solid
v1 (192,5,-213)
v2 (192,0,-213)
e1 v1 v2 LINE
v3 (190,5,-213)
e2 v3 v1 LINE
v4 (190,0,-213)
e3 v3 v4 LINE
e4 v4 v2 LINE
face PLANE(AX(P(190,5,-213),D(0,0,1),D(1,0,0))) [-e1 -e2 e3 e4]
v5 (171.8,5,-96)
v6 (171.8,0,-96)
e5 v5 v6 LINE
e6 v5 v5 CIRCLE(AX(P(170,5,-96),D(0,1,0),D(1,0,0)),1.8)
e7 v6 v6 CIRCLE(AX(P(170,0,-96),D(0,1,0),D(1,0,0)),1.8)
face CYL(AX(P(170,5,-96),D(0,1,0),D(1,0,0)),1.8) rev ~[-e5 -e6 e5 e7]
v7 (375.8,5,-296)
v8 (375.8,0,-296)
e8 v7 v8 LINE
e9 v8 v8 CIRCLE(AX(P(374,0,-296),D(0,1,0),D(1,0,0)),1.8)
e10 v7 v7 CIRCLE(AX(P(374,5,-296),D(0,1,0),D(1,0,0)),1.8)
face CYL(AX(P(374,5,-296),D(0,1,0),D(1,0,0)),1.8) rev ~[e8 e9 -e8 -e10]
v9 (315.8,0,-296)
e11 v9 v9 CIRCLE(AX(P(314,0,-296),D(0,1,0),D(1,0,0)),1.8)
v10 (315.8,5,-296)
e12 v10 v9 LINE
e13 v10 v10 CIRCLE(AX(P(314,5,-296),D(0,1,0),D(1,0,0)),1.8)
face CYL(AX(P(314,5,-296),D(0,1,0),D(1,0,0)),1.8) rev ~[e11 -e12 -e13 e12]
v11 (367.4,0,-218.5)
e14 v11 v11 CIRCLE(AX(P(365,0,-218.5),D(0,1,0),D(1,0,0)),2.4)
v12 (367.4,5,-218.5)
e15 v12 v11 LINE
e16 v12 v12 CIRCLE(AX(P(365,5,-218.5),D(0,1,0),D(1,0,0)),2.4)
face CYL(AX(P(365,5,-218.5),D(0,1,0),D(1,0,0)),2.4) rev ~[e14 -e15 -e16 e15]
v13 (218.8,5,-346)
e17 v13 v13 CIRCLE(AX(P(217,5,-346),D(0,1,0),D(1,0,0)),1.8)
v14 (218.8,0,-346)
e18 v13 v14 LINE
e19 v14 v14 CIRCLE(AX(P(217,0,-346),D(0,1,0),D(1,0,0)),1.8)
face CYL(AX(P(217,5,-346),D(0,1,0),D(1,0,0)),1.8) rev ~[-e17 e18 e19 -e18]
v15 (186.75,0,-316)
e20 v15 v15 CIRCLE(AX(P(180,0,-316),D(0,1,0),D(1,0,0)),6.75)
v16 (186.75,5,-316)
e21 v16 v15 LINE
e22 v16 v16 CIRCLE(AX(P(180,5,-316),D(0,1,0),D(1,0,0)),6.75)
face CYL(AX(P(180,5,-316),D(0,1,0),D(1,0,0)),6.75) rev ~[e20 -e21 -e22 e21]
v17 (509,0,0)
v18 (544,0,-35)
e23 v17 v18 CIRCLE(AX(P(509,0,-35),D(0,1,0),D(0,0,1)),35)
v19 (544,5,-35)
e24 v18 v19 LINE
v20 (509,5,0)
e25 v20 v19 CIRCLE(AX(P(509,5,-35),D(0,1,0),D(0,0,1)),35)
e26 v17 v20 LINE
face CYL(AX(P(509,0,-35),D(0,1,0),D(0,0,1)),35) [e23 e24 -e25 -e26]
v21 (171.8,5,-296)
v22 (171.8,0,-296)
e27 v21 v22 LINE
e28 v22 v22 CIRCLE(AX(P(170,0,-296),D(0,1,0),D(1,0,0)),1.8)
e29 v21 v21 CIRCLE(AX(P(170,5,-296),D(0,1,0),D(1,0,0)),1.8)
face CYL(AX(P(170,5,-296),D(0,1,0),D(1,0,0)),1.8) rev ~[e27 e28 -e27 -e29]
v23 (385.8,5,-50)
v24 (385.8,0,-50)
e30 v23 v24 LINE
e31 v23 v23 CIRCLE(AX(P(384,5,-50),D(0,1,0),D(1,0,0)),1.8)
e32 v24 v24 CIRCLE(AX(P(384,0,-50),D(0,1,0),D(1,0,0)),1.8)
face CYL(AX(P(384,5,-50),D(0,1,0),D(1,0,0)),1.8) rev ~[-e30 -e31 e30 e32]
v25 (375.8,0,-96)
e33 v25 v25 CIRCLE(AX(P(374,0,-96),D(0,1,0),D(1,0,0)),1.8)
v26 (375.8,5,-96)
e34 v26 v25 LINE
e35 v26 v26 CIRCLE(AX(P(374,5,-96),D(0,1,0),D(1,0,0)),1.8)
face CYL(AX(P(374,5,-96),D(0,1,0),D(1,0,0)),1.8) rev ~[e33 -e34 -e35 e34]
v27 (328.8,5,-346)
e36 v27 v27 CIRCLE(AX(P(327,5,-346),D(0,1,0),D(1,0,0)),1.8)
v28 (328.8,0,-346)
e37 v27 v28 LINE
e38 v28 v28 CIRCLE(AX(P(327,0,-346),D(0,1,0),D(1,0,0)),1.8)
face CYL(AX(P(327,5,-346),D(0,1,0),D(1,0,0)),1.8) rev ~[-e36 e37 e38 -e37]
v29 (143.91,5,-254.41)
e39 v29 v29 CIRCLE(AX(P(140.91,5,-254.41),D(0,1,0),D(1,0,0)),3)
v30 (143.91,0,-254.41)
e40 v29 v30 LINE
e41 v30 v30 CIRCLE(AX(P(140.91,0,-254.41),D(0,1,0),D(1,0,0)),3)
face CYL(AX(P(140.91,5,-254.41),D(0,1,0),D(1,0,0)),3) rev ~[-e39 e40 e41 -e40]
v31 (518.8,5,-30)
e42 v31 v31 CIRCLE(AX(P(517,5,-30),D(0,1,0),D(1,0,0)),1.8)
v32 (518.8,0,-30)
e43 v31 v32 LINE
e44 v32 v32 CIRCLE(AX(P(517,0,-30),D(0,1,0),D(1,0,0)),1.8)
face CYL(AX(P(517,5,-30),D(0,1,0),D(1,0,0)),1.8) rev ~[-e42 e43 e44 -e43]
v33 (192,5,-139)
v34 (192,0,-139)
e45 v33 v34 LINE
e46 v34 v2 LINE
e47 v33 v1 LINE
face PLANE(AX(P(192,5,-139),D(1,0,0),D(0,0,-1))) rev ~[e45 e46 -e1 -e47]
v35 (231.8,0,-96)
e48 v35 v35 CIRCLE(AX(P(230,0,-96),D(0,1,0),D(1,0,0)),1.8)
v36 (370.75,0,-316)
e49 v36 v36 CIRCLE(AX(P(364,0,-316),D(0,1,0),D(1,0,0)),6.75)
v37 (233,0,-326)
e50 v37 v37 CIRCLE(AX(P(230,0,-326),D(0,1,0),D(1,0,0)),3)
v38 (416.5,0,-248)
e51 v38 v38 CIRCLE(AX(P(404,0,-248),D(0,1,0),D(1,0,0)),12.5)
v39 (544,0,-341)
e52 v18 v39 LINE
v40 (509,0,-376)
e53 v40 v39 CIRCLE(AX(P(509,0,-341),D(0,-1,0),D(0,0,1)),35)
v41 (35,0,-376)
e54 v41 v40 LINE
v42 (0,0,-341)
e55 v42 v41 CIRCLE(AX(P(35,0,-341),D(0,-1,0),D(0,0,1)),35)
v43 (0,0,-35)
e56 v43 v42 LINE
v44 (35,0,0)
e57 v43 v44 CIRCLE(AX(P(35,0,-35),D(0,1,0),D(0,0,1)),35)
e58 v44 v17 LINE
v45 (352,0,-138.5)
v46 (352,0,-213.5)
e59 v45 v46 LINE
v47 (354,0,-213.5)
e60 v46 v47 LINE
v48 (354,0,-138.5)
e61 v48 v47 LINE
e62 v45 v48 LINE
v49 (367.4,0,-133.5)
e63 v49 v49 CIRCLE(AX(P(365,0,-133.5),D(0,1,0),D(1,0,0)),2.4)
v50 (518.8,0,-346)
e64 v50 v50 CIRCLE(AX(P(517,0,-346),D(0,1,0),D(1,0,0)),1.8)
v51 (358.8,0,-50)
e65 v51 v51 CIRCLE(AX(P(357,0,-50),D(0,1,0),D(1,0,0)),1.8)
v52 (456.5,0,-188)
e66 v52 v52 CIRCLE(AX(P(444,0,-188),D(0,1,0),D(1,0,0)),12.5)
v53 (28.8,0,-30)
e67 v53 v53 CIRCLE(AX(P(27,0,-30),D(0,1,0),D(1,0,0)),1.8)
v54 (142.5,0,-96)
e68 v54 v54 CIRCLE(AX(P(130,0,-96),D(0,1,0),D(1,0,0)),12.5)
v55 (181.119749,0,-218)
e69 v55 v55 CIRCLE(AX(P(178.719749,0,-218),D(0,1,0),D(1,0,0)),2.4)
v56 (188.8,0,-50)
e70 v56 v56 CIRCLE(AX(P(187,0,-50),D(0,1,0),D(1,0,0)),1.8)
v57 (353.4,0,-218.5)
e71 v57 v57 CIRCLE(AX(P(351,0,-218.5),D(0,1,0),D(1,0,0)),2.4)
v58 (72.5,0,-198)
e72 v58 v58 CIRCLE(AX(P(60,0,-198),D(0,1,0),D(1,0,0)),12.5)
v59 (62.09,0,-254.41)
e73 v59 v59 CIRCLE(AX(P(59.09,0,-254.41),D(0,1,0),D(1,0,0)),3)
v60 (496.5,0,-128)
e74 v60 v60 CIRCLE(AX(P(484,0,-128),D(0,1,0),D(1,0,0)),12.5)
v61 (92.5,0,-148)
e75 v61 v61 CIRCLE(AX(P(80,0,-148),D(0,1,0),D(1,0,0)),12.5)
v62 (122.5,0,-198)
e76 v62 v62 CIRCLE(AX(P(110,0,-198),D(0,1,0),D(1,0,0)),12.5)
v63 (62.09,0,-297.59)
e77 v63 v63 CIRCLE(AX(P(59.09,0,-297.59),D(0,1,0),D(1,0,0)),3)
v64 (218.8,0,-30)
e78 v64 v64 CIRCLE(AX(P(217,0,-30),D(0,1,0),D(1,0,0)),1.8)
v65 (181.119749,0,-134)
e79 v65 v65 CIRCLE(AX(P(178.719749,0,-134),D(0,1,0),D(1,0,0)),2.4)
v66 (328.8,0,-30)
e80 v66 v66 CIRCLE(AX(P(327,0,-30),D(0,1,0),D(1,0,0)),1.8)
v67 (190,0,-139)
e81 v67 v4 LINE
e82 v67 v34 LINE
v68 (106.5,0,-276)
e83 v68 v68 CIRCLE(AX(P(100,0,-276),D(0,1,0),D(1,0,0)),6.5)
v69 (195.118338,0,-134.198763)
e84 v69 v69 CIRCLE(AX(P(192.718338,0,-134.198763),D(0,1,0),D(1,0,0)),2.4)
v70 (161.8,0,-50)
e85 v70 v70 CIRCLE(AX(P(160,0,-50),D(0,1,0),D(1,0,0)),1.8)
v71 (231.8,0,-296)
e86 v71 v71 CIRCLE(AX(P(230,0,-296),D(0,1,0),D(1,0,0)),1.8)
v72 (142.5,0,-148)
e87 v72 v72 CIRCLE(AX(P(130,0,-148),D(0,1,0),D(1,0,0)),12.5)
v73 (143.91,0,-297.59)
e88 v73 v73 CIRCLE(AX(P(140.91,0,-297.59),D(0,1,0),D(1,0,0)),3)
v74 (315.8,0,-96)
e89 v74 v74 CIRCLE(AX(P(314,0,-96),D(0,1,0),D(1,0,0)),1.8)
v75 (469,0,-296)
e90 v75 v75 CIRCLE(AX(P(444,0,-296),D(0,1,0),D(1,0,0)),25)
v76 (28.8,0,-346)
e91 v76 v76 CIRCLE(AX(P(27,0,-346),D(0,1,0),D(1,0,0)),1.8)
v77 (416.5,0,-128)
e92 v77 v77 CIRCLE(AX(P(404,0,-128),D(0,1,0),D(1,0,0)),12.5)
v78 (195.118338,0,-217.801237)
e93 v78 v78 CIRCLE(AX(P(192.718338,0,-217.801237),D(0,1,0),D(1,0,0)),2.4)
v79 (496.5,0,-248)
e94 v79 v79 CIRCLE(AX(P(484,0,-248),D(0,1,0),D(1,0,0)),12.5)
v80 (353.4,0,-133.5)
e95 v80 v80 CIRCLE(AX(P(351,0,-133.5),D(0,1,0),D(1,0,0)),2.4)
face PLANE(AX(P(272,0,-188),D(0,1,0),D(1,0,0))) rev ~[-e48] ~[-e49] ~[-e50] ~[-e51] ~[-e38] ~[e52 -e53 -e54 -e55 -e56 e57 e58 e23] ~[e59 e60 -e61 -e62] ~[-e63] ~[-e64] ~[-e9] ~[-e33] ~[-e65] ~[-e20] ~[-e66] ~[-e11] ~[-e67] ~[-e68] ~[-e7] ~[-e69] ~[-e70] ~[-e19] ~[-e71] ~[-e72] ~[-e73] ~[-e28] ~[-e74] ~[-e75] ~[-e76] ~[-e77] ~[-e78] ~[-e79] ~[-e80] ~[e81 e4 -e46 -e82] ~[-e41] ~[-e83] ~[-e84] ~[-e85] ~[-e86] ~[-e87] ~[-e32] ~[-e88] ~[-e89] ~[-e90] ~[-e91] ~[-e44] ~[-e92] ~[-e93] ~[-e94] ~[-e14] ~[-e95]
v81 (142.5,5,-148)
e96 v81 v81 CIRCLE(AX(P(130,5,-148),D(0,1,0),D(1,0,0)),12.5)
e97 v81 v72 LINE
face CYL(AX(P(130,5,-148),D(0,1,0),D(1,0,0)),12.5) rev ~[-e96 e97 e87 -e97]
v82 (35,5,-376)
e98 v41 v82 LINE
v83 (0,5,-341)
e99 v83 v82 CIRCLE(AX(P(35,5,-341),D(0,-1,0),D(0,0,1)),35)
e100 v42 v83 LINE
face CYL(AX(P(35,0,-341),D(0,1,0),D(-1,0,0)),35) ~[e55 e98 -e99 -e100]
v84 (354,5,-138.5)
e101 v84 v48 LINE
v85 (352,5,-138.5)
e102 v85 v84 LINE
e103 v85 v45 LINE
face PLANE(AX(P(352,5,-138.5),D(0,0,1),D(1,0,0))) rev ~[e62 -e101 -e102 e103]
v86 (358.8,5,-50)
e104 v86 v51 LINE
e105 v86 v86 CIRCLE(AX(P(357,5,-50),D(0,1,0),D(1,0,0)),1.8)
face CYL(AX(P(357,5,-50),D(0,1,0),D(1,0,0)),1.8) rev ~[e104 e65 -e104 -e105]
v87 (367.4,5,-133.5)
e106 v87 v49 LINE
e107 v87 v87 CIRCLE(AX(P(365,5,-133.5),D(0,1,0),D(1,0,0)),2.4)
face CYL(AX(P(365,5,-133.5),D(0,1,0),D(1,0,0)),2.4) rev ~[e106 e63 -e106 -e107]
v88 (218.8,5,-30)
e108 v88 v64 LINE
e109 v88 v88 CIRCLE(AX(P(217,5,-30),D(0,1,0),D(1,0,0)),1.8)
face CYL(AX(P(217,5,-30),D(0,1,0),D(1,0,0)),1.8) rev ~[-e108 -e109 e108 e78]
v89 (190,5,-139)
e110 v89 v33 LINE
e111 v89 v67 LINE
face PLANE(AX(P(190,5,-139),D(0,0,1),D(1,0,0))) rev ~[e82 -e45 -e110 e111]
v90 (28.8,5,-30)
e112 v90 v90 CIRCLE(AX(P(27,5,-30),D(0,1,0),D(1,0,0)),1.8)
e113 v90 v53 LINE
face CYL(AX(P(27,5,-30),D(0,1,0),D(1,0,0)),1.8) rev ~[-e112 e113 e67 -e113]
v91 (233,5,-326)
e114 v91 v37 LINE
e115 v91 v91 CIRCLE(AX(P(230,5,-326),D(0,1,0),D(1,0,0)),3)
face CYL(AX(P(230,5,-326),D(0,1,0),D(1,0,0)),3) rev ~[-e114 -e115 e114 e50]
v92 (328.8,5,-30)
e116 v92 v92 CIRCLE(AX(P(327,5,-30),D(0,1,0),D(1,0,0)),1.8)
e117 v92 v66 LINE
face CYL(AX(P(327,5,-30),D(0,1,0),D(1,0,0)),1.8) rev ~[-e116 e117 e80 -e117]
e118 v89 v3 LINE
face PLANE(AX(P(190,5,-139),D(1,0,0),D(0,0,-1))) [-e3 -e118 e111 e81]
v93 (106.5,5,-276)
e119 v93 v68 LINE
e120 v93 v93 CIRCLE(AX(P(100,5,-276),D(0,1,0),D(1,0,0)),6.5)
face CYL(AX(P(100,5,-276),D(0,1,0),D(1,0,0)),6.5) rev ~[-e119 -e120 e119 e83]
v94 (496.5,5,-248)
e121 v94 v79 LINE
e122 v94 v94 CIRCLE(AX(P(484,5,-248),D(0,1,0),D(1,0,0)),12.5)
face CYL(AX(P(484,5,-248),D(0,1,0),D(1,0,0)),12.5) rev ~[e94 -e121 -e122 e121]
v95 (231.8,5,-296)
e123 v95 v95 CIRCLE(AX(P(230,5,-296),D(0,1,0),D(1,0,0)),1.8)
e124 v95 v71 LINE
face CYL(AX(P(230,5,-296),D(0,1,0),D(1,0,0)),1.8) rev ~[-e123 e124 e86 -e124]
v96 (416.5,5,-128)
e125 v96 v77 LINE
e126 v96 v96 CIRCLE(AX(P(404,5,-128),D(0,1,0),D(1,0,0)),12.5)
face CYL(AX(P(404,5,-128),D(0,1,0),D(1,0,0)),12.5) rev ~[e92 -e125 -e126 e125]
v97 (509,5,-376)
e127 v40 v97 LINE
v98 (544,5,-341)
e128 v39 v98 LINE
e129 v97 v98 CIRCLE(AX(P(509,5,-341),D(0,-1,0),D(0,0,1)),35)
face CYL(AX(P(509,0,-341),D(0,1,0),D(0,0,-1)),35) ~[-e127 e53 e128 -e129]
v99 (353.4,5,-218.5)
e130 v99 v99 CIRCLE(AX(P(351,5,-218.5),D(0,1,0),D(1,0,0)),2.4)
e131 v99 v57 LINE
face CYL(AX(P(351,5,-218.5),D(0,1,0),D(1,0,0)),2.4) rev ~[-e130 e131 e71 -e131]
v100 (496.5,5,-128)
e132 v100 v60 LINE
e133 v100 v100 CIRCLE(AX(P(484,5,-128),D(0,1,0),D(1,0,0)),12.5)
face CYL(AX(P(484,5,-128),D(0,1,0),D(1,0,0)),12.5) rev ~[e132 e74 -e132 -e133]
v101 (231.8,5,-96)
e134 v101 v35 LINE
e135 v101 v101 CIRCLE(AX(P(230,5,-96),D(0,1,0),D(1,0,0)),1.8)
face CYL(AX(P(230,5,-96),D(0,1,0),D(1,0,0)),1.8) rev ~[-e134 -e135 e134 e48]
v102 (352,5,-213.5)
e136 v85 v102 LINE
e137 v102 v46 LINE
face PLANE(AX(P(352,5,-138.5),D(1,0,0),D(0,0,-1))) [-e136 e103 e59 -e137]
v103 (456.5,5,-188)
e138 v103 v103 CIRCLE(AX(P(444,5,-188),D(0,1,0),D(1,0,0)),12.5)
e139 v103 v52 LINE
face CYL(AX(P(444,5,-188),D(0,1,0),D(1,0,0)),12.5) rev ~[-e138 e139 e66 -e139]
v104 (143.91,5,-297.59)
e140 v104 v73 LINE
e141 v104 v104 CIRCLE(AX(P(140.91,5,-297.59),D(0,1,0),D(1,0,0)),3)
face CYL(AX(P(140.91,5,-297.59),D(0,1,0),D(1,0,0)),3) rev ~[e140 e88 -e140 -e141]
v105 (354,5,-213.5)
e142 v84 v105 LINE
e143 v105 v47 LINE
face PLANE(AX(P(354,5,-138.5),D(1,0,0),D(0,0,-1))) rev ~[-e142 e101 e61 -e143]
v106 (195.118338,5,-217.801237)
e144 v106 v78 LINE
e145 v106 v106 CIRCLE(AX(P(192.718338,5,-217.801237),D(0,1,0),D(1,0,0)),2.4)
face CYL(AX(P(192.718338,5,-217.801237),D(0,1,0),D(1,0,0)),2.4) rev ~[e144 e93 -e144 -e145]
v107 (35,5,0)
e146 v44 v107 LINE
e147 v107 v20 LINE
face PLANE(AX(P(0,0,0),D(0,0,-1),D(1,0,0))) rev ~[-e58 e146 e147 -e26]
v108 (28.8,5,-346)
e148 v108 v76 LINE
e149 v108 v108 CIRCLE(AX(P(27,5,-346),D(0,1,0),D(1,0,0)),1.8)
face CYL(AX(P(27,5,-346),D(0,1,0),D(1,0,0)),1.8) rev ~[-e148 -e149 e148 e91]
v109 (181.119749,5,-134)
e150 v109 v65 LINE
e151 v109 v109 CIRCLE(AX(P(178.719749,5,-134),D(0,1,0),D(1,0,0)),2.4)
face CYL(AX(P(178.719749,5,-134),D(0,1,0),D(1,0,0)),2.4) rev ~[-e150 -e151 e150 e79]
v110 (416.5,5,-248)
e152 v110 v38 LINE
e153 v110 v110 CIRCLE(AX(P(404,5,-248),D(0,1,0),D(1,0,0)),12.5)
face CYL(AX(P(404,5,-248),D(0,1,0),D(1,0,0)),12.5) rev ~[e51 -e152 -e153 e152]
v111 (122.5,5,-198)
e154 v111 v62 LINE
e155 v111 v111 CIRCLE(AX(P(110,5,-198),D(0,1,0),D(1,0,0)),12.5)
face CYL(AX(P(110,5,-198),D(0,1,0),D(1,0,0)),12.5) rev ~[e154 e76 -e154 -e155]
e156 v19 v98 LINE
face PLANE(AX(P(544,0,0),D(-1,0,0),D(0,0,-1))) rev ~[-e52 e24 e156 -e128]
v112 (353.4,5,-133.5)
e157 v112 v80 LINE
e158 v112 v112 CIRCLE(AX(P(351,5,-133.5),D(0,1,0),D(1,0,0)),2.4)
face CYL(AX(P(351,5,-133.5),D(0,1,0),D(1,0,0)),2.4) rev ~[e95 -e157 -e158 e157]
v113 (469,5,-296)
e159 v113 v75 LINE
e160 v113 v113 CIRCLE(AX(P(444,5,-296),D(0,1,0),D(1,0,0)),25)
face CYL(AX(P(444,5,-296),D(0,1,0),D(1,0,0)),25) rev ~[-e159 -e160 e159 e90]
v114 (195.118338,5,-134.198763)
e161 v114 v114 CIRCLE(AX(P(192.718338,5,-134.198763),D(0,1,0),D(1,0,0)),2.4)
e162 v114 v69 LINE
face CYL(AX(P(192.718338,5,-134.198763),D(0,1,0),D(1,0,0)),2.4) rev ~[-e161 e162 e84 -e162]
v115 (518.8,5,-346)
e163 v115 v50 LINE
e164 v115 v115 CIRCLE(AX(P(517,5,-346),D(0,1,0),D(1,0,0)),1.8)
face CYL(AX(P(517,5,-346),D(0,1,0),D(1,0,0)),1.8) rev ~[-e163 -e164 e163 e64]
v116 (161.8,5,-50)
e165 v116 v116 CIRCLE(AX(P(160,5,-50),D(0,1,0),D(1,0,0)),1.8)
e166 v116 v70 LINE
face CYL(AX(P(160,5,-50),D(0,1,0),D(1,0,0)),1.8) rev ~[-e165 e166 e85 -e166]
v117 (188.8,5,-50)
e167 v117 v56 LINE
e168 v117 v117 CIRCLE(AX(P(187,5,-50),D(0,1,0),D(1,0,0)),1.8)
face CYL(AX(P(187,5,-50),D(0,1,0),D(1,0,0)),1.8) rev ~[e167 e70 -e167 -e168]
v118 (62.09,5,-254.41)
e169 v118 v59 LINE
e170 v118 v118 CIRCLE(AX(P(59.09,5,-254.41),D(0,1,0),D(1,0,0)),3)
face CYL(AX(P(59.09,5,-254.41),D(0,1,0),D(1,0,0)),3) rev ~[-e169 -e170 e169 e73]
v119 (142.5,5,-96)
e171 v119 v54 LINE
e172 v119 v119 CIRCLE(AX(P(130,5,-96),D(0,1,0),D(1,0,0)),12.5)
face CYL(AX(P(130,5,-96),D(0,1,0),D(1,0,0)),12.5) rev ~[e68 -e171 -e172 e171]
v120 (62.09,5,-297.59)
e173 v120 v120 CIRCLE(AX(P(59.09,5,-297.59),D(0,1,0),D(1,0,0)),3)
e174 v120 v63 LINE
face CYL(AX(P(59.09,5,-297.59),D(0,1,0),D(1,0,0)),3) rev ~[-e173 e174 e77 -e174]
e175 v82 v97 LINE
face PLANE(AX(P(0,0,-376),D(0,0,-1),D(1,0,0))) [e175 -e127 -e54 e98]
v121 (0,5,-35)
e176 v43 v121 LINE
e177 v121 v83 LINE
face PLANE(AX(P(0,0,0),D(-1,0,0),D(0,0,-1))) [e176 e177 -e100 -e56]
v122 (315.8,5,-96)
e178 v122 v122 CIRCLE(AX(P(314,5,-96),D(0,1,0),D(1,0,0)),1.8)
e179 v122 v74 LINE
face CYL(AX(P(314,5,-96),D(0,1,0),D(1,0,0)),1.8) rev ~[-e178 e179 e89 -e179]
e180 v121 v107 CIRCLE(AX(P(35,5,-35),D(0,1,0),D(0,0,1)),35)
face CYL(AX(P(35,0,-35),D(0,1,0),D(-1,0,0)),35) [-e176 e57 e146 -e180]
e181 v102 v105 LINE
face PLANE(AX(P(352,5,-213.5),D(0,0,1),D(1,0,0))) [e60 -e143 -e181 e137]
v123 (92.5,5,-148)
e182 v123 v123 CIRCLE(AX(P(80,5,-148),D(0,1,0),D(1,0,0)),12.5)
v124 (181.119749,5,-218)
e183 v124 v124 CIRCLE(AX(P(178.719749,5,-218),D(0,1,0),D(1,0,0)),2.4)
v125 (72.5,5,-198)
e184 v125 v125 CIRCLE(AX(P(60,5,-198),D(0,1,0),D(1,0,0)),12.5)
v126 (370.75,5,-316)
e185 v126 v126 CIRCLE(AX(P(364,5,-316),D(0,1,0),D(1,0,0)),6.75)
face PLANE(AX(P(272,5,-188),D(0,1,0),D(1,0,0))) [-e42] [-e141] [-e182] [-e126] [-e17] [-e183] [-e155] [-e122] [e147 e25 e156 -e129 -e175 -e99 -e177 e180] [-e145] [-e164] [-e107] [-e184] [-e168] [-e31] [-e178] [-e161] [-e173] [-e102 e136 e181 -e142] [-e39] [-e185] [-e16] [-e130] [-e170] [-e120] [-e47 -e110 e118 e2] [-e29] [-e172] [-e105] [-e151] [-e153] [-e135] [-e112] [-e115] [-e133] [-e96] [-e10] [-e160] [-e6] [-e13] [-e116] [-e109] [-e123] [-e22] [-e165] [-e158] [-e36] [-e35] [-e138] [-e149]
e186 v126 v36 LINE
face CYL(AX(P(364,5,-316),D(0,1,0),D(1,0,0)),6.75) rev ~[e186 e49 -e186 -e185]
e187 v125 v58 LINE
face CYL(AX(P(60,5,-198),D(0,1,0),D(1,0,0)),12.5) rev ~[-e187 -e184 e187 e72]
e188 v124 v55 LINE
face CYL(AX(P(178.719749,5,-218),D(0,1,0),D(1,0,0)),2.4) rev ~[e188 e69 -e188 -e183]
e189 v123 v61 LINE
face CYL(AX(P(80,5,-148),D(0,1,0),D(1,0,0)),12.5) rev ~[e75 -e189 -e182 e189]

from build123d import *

# Parameters (mm, degrees)
SKETCH1_W               = 544
SKETCH1_H               = 376
BOSS_EXTRUDE1_DEPTH     = 5
SKETCH2_R               = 6.5
SKETCH2_R_2             = 3
F_1_JOYYSTICK_DEPTH     = 6
SKETCH3_R               = 12.5
F_1_BUTTONS_DEPTH       = 6
SKETCH4_R               = 6.75
F_1_ROCKET_SWITCH_DEPTH = 6
SKETCH5_R               = 2.4
SKETCH5_W               = 2
SKETCH5_H               = 74
F_1_POTENTIOMETER_DEPTH = 6
FILLET1_R               = 35
SKETCH6_R               = 12.5
F_2_BUTTONS_DEPTH       = 6
SKETCH9_R               = 25
F_2_SPEAKER_DEPTH       = 6
SKETCH8_R               = 2.4
SKETCH8_W               = 2
SKETCH8_H               = 75
F_2_POTENTIOMETER_DEPTH = 6
SKETCH11_R              = 1.8
F_2_PCB1_DEPTH          = 6
SKETCH12_R              = 1.8
F_1_PCB2_DEPTH          = 6
SKETCH13_R              = 1.8
F_2_USB_CONNECTOR_DEPTH = 6
SKETCH14_R              = 1.8
F_1_USB_CONNECTOR_DEPTH = 6
SKETCH15_R              = 3
POWER_DEPTH             = 6
SKETCH16_R              = 1.8
LED_FIXINGS_DEPTH       = 6
SKETCH10_R              = 6.75
CUT_EXTRUDE1_DEPTH      = 6


with BuildPart() as part:
    # Sketch1 → Boss-Extrude1 (new body)
    with BuildSketch(Plane(origin=(0, 0, 0), x_dir=(1, 0, 0), z_dir=(0, 1, 0))):
        with Locations((272, 188)):
            Rectangle(SKETCH1_W, SKETCH1_H)
    extrude(amount=BOSS_EXTRUDE1_DEPTH)

    # Sketch2 → 1 Joyystick (cut, through all)
    with BuildSketch(Plane(origin=(0, 5, 0), x_dir=(1, 0, 0), z_dir=(0, 1, 0))):
        with Locations((100, 276)):
            Circle(SKETCH2_R)
        with Locations((140.91, 297.59)):
            Circle(SKETCH2_R_2)
        with Locations((140.91, 254.41)):
            Circle(SKETCH2_R_2)
        with Locations((59.09, 254.41)):
            Circle(SKETCH2_R_2)
        with Locations((59.09, 297.59)):
            Circle(SKETCH2_R_2)
    extrude(amount=-F_1_JOYYSTICK_DEPTH, mode=Mode.SUBTRACT)

    # Sketch3 → 1 Buttons (cut, through all)
    with BuildSketch(Plane(origin=(0, 5, 0), x_dir=(1, 0, 0), z_dir=(0, 1, 0))):
        with Locations((60, 198)):
            Circle(SKETCH3_R)
        with Locations((110, 198)):
            Circle(SKETCH3_R)
        with Locations((80, 148)):
            Circle(SKETCH3_R)
        with Locations((130, 148)):
            Circle(SKETCH3_R)
        with Locations((130, 96)):
            Circle(SKETCH3_R)
    extrude(amount=-F_1_BUTTONS_DEPTH, mode=Mode.SUBTRACT)

    # Sketch4 → 1 Rocket Switch (cut, through all)
    with BuildSketch(Plane(origin=(0, 5, 0), x_dir=(1, 0, 0), z_dir=(0, 1, 0))):
        with Locations((180, 316)):
            Circle(SKETCH4_R)
    extrude(amount=-F_1_ROCKET_SWITCH_DEPTH, mode=Mode.SUBTRACT)

    # Sketch5 → 1 Potentiometer (cut, through all)
    with BuildSketch(Plane(origin=(0, 5, 0), x_dir=(1, 0, 0), z_dir=(0, 1, 0))):
        with Locations((178.719749064, 218)):
            Circle(SKETCH5_R)
        with Locations((192.718338039, 217.801237073)):
            Circle(SKETCH5_R)
        with Locations((192.718338039, 134.198762927)):
            Circle(SKETCH5_R)
        with Locations((178.719749064, 134)):
            Circle(SKETCH5_R)
        with Locations((191, 176)):
            Rectangle(SKETCH5_W, SKETCH5_H)
    extrude(amount=-F_1_POTENTIOMETER_DEPTH, mode=Mode.SUBTRACT)

    # Fillet1
    fillet1_edges = [part.edges().sort_by_distance(p)[0] for p in [
        (0, 2.5, -376),
        (544, 2.5, -376),
        (544, 2.5, 0),
        (0, 2.5, 0),
    ]]
    fillet(fillet1_edges, radius=FILLET1_R)

    # Sketch6 → 2 Buttons (cut, through all)
    with BuildSketch(Plane(origin=(0, 5, 0), x_dir=(1, 0, 0), z_dir=(0, 1, 0))):
        with Locations((484, 248)):
            Circle(SKETCH6_R)
        with Locations((404, 248)):
            Circle(SKETCH6_R)
        with Locations((484, 128)):
            Circle(SKETCH6_R)
        with Locations((404, 128)):
            Circle(SKETCH6_R)
        with Locations((444, 188)):
            Circle(SKETCH6_R)
    extrude(amount=-F_2_BUTTONS_DEPTH, mode=Mode.SUBTRACT)

    # Sketch9 → 2 speaker (cut, through all)
    with BuildSketch(Plane(origin=(0, 5, 0), x_dir=(1, 0, 0), z_dir=(0, 1, 0))):
        with Locations((444, 296)):
            Circle(SKETCH9_R)
    extrude(amount=-F_2_SPEAKER_DEPTH, mode=Mode.SUBTRACT)

    # Sketch8 → 2 Potentiometer (cut, through all)
    with BuildSketch(Plane(origin=(0, 5, 0), x_dir=(1, 0, 0), z_dir=(0, 1, 0))):
        with Locations((365, 218.5)):
            Circle(SKETCH8_R)
        with Locations((365, 133.5)):
            Circle(SKETCH8_R)
        with Locations((351, 133.5)):
            Circle(SKETCH8_R)
        with Locations((351, 218.5)):
            Circle(SKETCH8_R)
        with Locations((353, 176)):
            Rectangle(SKETCH8_W, SKETCH8_H)
    extrude(amount=-F_2_POTENTIOMETER_DEPTH, mode=Mode.SUBTRACT)

    # Sketch11 → 2 PCB1 (cut, through all)
    with BuildSketch(Plane(origin=(0, 5, 0), x_dir=(1, 0, 0), z_dir=(0, 1, 0))):
        with Locations((374, 96)):
            Circle(SKETCH11_R)
        with Locations((314, 96)):
            Circle(SKETCH11_R)
        with Locations((314, 296)):
            Circle(SKETCH11_R)
        with Locations((374, 296)):
            Circle(SKETCH11_R)
    extrude(amount=-F_2_PCB1_DEPTH, mode=Mode.SUBTRACT)

    # Sketch12 → 1 PCB2 (cut, through all)
    with BuildSketch(Plane(origin=(0, 5, 0), x_dir=(1, 0, 0), z_dir=(0, 1, 0))):
        with Locations((230, 96)):
            Circle(SKETCH12_R)
        with Locations((170, 96)):
            Circle(SKETCH12_R)
        with Locations((230, 296)):
            Circle(SKETCH12_R)
        with Locations((170, 296)):
            Circle(SKETCH12_R)
    extrude(amount=-F_1_PCB2_DEPTH, mode=Mode.SUBTRACT)

    # Sketch13 → 2 USB Connector (cut, through all)
    with BuildSketch(Plane(origin=(0, 5, 0), x_dir=(1, 0, 0), z_dir=(0, 1, 0))):
        with Locations((384, 50)):
            Circle(SKETCH13_R)
        with Locations((357, 50)):
            Circle(SKETCH13_R)
    extrude(amount=-F_2_USB_CONNECTOR_DEPTH, mode=Mode.SUBTRACT)

    # Sketch14 → 1 USB Connector (cut, through all)
    with BuildSketch(Plane(origin=(0, 5, 0), x_dir=(1, 0, 0), z_dir=(0, 1, 0))):
        with Locations((187, 50)):
            Circle(SKETCH14_R)
        with Locations((160, 50)):
            Circle(SKETCH14_R)
    extrude(amount=-F_1_USB_CONNECTOR_DEPTH, mode=Mode.SUBTRACT)

    # Sketch15 → Power (cut, through all)
    with BuildSketch(Plane(origin=(0, 5, 0), x_dir=(1, 0, 0), z_dir=(0, 1, 0))):
        with Locations((230, 326)):
            Circle(SKETCH15_R)
    extrude(amount=-POWER_DEPTH, mode=Mode.SUBTRACT)

    # Sketch16 → LED fixings (cut, through all)
    with BuildSketch(Plane(origin=(0, 5, 0), x_dir=(1, 0, 0), z_dir=(0, 1, 0))):
        with Locations((517, 30)):
            Circle(SKETCH16_R)
        with Locations((327, 30)):
            Circle(SKETCH16_R)
        with Locations((517, 346)):
            Circle(SKETCH16_R)
        with Locations((327, 346)):
            Circle(SKETCH16_R)
        with Locations((217, 346)):
            Circle(SKETCH16_R)
        with Locations((27, 346)):
            Circle(SKETCH16_R)
        with Locations((217, 30)):
            Circle(SKETCH16_R)
        with Locations((27, 30)):
            Circle(SKETCH16_R)
    extrude(amount=-LED_FIXINGS_DEPTH, mode=Mode.SUBTRACT)

    # Sketch10 → Cut-Extrude1 (cut, through all)
    with BuildSketch(Plane(origin=(0, 5, 0), x_dir=(1, 0, 0), z_dir=(0, 1, 0))):
        with Locations((364, 316)):
            Circle(SKETCH10_R)
    extrude(amount=-CUT_EXTRUDE1_DEPTH, mode=Mode.SUBTRACT)


solid = part.part
